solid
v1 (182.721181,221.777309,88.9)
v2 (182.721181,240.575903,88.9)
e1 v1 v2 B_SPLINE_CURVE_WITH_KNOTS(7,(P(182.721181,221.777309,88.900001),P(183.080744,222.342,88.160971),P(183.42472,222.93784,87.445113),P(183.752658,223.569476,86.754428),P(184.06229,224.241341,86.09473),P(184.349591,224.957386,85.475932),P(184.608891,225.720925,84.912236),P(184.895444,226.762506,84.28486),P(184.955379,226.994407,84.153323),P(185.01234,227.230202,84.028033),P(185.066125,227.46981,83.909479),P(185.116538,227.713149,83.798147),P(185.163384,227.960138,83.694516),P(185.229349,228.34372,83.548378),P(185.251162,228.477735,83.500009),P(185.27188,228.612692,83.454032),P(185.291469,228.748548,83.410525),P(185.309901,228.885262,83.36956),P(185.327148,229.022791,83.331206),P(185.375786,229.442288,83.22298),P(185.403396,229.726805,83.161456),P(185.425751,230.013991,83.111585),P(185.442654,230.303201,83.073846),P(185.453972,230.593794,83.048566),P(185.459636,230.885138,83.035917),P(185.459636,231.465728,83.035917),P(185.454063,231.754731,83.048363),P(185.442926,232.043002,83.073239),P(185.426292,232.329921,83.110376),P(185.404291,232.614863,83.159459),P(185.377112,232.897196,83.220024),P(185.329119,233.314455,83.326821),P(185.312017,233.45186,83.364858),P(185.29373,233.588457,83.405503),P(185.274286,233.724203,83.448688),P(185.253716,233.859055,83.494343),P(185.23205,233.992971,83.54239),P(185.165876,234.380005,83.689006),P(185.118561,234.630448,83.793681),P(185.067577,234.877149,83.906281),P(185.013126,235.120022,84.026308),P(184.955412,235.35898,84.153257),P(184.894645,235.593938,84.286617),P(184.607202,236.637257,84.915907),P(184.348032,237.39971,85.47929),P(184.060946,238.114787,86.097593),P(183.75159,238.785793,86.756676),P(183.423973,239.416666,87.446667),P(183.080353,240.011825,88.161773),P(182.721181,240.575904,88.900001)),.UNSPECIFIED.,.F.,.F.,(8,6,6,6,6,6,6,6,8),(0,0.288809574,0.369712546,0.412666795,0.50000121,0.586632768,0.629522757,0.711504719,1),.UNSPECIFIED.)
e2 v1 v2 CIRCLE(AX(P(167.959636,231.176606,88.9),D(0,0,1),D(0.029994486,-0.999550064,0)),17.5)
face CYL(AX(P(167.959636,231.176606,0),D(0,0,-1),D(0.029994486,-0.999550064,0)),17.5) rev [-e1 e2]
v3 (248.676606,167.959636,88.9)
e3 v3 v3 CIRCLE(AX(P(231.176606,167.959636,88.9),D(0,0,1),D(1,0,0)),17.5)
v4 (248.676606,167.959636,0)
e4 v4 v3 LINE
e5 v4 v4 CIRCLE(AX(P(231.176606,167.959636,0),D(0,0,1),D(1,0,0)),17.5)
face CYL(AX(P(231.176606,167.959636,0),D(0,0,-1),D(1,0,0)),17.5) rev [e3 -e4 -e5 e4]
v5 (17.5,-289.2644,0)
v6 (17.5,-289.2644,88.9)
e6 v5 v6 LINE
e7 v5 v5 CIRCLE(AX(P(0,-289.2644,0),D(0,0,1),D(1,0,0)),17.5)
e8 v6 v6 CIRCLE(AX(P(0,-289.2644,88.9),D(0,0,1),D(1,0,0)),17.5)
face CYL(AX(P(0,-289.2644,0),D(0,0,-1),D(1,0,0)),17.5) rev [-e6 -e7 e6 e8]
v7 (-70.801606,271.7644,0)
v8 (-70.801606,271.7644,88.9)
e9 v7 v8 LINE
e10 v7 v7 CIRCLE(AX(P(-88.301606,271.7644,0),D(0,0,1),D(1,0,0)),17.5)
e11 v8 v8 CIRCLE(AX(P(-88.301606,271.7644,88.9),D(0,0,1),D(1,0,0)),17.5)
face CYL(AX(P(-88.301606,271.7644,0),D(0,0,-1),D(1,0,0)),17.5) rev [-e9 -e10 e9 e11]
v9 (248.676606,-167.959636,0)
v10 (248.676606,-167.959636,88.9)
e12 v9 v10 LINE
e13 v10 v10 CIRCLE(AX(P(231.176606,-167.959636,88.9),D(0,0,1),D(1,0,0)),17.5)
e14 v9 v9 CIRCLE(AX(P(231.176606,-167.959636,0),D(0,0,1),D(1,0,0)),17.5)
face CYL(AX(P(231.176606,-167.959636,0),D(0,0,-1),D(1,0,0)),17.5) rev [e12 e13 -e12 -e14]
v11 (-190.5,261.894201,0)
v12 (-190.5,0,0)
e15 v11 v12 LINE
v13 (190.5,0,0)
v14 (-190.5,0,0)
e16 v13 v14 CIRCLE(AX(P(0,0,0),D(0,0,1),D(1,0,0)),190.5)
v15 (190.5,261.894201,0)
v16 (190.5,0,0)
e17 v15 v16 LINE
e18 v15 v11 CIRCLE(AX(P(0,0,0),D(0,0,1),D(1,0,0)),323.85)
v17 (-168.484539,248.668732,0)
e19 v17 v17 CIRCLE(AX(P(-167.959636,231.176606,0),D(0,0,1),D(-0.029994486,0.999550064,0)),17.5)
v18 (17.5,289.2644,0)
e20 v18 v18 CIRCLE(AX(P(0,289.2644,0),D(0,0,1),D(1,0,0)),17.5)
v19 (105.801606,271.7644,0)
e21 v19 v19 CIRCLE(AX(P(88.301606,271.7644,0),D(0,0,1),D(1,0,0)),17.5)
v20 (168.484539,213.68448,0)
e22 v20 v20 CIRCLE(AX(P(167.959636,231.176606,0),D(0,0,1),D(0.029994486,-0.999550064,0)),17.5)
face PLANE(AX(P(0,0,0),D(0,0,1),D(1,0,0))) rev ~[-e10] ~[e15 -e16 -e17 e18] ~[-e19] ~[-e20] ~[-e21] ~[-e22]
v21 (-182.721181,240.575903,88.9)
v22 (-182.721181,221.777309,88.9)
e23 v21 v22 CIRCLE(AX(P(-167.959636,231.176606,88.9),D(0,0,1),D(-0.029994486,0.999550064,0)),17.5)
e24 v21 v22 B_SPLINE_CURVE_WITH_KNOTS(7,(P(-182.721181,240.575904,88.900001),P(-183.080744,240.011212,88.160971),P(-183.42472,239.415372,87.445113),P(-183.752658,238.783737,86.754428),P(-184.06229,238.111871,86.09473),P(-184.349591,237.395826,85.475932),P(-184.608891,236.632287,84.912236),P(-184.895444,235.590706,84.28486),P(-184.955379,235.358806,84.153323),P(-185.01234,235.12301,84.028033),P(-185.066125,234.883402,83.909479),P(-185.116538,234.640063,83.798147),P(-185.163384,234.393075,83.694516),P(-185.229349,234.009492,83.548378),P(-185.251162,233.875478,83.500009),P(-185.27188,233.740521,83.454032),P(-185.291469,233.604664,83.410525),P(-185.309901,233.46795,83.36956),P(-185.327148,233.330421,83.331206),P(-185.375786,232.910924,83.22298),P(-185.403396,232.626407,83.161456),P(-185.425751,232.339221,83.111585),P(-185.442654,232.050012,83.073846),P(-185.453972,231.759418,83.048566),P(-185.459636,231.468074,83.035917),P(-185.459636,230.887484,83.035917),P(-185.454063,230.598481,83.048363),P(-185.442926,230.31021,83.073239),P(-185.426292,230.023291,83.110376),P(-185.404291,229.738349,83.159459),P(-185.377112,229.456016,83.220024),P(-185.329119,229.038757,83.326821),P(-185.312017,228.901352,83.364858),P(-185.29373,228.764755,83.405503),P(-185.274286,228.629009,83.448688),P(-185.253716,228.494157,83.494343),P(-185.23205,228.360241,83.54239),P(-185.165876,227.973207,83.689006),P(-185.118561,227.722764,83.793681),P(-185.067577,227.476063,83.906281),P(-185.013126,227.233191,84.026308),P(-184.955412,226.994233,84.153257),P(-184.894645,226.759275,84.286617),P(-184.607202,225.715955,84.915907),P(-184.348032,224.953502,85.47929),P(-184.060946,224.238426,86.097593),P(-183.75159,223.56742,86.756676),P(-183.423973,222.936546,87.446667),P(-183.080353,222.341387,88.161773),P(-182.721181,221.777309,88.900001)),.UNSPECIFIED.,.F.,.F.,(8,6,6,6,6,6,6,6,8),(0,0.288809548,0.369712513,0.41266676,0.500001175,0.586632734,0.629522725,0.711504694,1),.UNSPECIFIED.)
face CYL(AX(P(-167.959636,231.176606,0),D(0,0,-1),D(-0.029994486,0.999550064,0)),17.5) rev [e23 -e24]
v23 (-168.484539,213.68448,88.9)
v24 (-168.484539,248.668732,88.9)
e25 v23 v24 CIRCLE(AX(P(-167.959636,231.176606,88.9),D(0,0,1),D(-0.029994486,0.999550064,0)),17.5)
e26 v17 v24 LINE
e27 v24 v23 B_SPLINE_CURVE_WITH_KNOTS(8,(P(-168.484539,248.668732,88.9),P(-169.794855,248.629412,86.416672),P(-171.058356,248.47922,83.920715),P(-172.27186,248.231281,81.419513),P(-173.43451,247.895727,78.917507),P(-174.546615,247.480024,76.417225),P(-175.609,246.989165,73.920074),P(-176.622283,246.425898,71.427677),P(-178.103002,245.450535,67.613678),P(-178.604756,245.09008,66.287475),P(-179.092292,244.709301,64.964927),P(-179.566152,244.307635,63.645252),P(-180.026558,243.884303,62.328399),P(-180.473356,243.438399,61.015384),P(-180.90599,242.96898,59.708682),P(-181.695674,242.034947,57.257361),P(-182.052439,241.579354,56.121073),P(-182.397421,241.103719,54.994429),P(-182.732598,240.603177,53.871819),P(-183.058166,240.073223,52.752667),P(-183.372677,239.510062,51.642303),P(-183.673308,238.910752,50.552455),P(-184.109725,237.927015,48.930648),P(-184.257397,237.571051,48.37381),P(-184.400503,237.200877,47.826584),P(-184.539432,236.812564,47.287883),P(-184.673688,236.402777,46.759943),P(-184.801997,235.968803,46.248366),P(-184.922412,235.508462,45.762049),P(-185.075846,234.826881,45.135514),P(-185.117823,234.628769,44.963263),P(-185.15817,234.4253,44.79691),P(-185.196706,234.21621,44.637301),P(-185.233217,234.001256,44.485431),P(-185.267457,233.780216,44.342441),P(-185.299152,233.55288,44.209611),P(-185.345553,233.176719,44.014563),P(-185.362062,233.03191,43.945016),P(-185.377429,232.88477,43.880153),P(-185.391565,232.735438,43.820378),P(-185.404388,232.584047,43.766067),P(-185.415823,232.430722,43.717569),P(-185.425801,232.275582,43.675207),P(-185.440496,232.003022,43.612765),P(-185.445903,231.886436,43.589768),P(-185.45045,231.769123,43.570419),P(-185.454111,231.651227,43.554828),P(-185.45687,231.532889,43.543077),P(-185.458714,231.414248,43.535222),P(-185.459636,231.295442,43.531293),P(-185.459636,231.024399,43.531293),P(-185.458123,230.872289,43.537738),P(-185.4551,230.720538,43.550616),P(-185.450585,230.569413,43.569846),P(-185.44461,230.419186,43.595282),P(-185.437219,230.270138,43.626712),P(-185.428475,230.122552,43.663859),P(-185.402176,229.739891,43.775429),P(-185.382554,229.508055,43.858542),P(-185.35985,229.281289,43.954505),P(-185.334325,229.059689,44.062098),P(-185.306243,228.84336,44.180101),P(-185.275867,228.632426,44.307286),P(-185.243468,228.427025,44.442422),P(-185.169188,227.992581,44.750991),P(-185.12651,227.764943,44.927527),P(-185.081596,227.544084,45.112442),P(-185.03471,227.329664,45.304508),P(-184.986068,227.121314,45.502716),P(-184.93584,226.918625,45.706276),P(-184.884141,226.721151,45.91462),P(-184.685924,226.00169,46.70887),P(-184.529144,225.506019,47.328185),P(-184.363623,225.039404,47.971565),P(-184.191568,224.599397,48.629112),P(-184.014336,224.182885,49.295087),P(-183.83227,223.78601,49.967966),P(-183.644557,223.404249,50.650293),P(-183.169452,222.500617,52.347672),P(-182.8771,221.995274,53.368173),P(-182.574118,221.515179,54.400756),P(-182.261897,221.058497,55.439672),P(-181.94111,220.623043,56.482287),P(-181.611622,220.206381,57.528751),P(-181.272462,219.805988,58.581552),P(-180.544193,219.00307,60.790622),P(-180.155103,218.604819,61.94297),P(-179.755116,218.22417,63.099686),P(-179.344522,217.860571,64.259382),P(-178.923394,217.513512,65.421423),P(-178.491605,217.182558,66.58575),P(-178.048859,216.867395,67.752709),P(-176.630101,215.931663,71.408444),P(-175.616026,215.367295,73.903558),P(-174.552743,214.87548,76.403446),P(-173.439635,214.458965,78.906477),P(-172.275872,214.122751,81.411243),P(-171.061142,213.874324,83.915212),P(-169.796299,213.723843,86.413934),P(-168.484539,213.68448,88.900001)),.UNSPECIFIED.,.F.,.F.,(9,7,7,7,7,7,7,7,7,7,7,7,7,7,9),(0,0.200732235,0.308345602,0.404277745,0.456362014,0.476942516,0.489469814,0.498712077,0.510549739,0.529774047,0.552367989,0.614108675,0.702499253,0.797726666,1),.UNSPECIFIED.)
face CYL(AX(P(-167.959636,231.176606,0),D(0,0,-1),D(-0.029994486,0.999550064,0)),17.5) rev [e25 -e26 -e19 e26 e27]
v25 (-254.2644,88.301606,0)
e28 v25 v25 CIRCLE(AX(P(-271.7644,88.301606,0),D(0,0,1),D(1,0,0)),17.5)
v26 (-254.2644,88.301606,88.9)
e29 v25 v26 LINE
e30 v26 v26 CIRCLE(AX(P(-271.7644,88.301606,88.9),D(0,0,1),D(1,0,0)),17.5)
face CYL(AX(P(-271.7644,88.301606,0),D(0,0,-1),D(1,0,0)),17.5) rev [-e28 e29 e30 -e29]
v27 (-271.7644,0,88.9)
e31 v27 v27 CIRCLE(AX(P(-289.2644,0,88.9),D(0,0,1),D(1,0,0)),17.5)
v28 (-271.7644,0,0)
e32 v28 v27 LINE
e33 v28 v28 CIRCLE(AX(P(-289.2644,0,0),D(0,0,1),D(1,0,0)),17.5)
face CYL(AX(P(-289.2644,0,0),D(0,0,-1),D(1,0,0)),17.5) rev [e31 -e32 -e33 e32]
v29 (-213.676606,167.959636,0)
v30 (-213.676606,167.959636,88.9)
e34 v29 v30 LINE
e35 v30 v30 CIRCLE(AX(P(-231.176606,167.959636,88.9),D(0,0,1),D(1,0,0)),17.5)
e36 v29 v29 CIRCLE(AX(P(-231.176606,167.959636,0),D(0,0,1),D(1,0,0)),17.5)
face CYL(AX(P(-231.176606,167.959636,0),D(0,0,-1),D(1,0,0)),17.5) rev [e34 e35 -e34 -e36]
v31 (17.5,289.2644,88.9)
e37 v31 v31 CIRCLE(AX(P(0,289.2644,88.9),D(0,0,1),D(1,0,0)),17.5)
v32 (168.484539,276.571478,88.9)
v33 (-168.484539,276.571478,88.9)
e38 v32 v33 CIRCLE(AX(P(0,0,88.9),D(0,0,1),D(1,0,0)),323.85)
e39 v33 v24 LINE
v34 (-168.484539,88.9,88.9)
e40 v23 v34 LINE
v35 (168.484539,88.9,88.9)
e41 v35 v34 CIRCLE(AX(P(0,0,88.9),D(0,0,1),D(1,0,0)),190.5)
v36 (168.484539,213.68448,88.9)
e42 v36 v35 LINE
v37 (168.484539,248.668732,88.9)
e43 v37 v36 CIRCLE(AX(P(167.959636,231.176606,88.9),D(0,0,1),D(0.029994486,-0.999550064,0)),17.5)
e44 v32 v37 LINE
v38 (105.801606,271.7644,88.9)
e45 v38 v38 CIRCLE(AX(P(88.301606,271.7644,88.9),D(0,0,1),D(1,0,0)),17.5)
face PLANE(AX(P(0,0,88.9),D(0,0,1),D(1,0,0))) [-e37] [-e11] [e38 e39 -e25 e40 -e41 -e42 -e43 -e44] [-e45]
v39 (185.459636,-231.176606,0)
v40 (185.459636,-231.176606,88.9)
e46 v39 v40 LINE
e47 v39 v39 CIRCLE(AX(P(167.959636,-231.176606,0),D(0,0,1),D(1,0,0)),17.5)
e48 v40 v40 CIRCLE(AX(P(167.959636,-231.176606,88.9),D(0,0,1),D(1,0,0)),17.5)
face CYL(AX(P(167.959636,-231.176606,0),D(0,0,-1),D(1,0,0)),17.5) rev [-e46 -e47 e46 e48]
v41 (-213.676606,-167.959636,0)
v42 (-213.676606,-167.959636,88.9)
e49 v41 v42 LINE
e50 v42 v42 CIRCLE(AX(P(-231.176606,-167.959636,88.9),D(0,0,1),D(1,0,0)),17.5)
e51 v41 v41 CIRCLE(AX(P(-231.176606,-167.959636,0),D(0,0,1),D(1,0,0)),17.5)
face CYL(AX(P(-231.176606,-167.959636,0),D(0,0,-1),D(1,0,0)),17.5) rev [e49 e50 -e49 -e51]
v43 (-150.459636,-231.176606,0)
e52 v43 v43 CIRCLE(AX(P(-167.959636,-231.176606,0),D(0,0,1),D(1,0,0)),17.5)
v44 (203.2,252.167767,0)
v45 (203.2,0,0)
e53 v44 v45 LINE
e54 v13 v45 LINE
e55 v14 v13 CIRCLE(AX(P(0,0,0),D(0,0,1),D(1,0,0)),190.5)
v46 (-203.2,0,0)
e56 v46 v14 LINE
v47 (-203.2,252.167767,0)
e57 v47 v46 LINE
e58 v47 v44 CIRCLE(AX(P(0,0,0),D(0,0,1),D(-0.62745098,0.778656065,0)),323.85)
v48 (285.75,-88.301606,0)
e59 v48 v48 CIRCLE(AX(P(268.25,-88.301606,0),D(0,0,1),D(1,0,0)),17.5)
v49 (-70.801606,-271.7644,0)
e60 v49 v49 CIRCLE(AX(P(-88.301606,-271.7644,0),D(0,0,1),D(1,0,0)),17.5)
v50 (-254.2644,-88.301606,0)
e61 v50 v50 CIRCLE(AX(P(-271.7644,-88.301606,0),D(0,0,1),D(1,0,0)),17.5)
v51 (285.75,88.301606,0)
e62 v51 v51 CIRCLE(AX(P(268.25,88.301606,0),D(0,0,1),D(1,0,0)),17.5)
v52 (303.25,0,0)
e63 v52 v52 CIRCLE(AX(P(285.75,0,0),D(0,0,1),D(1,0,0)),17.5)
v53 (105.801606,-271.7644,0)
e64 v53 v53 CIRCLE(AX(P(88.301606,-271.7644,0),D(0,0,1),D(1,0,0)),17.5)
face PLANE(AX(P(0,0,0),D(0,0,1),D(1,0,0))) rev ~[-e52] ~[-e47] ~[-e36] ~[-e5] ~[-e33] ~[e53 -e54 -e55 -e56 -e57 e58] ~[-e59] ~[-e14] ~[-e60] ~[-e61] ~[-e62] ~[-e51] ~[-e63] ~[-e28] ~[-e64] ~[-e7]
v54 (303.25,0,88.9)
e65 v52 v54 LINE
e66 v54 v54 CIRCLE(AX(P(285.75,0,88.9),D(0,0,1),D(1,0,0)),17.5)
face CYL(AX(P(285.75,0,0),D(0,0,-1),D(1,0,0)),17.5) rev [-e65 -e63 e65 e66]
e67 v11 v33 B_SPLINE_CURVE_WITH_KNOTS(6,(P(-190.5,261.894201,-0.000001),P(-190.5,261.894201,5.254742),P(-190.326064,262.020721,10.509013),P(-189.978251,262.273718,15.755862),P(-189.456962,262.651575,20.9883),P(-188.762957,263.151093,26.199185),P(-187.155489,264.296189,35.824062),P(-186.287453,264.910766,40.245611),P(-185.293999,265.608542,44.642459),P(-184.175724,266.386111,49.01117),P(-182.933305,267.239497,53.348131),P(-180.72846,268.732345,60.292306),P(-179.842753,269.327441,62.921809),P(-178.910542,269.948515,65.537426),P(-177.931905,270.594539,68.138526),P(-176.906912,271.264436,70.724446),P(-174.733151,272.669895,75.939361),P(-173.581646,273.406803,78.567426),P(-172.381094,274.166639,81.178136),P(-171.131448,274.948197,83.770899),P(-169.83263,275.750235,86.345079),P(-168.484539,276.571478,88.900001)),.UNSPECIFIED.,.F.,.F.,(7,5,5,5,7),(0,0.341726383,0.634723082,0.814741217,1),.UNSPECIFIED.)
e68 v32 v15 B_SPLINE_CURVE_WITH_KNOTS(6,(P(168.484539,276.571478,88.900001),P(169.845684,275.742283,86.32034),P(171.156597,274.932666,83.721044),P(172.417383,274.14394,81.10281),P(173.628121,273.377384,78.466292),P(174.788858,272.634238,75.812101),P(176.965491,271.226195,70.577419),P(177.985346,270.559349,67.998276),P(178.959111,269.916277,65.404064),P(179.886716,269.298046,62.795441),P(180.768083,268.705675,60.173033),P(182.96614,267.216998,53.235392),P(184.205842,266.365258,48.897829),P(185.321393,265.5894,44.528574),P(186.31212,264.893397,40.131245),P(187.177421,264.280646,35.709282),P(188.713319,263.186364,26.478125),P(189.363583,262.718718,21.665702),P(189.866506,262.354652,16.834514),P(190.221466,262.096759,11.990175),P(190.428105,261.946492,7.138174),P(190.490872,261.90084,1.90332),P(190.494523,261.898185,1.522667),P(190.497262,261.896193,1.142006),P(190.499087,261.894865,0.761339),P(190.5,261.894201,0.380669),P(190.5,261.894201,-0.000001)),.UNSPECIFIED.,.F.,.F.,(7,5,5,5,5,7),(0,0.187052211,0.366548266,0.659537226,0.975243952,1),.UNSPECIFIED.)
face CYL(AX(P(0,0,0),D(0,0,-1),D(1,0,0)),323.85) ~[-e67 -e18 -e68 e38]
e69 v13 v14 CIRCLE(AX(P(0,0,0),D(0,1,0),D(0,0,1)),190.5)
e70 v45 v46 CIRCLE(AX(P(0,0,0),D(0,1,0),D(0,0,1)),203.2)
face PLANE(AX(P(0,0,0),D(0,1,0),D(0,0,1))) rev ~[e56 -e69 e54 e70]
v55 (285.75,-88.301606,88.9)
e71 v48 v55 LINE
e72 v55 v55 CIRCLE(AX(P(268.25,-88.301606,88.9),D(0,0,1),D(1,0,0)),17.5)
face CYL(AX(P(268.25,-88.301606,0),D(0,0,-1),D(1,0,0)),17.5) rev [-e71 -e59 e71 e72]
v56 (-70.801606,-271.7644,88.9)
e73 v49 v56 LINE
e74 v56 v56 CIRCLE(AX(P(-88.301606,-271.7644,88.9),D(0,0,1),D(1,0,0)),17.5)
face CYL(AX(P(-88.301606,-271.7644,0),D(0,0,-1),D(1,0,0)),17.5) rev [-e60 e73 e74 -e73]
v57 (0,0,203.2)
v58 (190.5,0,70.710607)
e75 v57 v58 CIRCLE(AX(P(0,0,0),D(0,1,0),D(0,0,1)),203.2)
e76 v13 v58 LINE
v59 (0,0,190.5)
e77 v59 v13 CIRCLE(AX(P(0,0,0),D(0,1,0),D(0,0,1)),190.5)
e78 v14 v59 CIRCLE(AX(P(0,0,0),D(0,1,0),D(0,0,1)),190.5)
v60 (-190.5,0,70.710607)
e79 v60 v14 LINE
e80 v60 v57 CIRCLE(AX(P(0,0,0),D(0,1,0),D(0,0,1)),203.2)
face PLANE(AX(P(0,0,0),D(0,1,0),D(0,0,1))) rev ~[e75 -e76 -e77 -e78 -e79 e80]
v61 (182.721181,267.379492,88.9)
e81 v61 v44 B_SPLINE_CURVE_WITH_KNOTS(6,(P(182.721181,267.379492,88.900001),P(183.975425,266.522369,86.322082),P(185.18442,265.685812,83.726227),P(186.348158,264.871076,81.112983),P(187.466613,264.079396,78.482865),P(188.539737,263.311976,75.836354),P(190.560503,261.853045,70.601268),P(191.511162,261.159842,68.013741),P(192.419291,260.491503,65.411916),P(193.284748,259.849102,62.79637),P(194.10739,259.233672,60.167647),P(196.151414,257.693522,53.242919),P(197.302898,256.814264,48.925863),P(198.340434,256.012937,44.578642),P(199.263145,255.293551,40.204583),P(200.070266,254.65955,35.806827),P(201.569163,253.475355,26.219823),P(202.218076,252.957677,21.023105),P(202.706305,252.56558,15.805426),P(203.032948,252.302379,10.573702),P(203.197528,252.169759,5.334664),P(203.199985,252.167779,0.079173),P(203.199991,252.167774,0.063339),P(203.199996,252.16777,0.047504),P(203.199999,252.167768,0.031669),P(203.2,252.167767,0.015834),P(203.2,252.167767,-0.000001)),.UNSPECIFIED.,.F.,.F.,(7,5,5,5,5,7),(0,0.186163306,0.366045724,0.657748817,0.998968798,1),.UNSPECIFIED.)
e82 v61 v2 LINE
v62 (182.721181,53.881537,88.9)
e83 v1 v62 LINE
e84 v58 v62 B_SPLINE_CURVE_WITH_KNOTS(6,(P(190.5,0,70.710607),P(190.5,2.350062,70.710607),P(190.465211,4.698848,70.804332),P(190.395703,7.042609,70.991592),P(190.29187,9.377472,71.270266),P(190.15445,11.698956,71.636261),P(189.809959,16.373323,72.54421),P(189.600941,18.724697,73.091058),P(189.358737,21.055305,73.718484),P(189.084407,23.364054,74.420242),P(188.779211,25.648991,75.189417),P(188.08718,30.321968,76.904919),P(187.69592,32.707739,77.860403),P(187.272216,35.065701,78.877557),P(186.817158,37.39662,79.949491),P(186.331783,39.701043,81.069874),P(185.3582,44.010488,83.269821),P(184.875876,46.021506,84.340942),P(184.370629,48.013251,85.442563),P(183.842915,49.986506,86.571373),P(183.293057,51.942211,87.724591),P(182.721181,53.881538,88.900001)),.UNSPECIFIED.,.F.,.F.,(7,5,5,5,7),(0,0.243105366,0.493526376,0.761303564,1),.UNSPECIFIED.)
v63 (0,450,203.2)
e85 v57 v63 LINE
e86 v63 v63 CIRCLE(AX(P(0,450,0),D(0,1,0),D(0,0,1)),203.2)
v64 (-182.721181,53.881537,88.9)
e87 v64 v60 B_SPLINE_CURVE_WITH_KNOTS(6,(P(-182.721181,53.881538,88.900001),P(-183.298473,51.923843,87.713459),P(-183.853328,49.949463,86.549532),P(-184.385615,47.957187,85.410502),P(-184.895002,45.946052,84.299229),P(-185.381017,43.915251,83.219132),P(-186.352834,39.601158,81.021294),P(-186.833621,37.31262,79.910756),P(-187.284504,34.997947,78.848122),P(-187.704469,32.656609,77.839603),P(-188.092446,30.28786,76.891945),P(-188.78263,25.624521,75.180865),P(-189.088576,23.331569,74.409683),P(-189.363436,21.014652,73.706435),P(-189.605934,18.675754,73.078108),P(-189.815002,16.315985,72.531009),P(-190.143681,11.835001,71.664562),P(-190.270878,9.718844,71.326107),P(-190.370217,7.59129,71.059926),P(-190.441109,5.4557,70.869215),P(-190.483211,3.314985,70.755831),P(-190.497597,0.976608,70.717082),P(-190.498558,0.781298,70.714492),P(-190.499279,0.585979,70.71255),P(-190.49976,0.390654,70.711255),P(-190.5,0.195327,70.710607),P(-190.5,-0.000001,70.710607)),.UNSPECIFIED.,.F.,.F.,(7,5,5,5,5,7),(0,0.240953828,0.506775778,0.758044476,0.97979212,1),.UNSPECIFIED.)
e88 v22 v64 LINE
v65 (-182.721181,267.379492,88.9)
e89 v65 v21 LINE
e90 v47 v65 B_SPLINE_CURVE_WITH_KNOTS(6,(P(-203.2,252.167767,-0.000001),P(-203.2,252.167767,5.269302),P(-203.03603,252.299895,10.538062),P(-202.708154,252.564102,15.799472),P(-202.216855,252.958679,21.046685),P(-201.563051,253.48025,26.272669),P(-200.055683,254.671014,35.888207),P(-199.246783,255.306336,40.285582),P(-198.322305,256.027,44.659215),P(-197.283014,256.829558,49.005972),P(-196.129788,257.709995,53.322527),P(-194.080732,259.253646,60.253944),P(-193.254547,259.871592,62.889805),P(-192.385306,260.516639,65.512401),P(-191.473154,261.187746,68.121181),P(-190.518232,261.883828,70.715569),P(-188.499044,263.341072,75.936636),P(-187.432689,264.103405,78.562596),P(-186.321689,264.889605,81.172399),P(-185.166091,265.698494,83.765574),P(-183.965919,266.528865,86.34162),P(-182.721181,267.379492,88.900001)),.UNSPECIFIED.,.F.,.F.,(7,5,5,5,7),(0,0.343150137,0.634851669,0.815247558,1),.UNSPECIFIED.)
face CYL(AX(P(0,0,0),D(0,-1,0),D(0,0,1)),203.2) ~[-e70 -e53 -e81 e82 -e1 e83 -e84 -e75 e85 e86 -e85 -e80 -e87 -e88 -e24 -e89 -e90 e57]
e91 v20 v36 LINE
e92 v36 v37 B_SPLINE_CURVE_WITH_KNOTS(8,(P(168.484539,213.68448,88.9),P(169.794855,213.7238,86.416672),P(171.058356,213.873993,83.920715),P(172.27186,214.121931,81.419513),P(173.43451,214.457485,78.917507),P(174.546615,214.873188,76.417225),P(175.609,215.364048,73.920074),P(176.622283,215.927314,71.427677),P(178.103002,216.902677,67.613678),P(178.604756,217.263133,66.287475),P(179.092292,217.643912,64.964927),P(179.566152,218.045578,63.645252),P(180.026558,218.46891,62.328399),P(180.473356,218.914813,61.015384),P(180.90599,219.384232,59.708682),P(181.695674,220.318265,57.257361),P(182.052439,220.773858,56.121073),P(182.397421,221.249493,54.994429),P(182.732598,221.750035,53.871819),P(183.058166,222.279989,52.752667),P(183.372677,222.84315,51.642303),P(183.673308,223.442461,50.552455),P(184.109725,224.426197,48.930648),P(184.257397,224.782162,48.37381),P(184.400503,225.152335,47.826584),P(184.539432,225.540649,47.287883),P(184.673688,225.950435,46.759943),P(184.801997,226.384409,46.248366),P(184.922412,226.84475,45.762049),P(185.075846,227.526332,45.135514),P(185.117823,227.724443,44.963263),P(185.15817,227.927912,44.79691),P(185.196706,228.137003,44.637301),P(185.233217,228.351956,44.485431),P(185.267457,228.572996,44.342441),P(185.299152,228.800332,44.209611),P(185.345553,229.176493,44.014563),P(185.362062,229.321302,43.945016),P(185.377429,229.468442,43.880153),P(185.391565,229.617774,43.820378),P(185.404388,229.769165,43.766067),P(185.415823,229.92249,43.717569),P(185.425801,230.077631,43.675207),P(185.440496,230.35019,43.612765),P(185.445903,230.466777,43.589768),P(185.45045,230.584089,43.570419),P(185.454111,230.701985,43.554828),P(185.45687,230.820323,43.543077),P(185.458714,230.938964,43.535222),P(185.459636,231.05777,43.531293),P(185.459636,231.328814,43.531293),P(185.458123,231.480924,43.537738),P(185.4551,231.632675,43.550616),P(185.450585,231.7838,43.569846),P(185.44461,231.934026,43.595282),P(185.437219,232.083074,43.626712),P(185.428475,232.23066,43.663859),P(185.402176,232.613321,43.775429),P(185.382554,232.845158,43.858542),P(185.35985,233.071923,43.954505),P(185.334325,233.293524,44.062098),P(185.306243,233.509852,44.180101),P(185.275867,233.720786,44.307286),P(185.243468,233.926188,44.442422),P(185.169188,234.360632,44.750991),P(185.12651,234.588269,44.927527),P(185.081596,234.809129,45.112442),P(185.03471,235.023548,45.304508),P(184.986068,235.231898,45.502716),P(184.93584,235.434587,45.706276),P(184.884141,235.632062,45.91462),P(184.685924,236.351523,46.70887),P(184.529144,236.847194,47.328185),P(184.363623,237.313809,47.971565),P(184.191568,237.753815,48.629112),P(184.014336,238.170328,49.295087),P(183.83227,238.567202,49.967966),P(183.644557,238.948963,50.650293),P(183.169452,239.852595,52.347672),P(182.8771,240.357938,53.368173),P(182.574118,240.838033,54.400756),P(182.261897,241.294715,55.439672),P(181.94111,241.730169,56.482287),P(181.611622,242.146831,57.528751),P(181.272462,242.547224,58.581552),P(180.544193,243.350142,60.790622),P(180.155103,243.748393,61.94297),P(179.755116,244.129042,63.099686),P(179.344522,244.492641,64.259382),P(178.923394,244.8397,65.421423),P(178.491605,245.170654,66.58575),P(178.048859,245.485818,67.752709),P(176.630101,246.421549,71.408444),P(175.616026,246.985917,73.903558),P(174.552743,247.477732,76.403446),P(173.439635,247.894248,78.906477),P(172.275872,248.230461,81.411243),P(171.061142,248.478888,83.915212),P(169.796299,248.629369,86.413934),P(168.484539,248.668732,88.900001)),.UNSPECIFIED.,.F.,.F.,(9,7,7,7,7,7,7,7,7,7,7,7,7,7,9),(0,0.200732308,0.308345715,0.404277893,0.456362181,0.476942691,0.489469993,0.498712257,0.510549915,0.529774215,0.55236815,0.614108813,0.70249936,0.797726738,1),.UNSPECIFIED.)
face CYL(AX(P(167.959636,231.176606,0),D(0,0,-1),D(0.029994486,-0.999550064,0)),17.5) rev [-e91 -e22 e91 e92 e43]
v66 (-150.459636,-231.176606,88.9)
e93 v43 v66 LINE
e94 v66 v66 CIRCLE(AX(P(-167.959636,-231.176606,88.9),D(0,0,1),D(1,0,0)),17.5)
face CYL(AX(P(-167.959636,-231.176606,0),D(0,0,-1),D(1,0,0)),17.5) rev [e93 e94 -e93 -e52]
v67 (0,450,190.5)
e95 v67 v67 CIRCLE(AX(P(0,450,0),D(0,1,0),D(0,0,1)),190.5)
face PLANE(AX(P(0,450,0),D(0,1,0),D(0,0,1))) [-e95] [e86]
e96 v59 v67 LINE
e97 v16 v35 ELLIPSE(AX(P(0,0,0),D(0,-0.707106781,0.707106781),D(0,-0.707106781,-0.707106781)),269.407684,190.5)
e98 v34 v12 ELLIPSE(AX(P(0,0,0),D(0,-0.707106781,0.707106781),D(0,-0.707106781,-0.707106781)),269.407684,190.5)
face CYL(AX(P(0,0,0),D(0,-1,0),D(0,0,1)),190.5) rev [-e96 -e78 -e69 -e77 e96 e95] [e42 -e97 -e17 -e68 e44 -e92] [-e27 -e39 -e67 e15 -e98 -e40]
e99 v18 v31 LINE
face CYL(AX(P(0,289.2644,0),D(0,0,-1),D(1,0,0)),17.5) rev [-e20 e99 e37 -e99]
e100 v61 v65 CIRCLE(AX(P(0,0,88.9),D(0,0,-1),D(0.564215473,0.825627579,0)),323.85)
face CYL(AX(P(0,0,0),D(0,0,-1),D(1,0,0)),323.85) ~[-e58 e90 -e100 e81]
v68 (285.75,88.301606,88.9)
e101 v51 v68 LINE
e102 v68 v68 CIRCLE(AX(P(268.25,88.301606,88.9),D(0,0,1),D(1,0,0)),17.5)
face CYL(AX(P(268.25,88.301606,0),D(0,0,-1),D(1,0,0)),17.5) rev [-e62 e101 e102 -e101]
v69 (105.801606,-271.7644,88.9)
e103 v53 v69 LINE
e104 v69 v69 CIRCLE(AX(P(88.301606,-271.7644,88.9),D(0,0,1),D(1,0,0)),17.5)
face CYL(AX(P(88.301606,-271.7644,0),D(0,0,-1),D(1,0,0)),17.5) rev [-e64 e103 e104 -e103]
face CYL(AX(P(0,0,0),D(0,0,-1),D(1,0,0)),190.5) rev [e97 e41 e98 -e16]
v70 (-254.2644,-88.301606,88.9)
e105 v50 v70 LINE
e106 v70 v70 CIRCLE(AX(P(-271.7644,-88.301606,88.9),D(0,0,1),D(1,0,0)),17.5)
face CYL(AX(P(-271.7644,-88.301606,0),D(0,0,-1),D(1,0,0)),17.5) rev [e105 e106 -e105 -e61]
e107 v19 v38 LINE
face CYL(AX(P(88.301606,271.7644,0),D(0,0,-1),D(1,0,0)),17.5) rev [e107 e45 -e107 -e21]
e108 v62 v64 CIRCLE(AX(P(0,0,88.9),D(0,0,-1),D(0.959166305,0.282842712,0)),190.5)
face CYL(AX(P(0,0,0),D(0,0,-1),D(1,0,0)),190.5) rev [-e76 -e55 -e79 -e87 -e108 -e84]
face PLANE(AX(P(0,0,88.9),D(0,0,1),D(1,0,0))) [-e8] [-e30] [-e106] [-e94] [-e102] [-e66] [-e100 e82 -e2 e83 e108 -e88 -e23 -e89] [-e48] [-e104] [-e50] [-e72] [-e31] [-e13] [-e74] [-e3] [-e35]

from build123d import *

# Parameters (mm, degrees)
SKETCH1_R           = 203.2
SKETCH1_R_2         = 190.5
BOSS_EXTRUDE1_DEPTH = 450
SKETCH2_R           = 323.85
SKETCH2_R_2         = 190.5
SKETCH2_R_3         = 17.5
BOSS_EXTRUDE2_DEPTH = 88.9


with BuildPart() as part:
    # Sketch1 → Boss-Extrude1 (new body)
    with BuildSketch(Plane(origin=(0, 0, 0), x_dir=(1, 0, 0), z_dir=(0, 1, 0))):
        with Locations(Location((0, 0, 0), (0, 0, 270))):
            Circle(SKETCH1_R)
        with Locations(Location((0, 0, 0), (0, 0, 270))):
            Circle(SKETCH1_R_2, mode=Mode.SUBTRACT)
    extrude(amount=BOSS_EXTRUDE1_DEPTH)

    # Sketch2 → Boss-Extrude2 (add)
    with BuildSketch(Plane.XY):
        Circle(SKETCH2_R)
        Circle(SKETCH2_R_2, mode=Mode.SUBTRACT)
        with Locations((285.75, 0)):
            Circle(SKETCH2_R_3, mode=Mode.SUBTRACT)
        with Locations((268.25, 88.301606143)):
            Circle(SKETCH2_R_3, mode=Mode.SUBTRACT)
        with Locations((231.176606143, 167.959635843)):
            Circle(SKETCH2_R_3, mode=Mode.SUBTRACT)
        with Locations(Location((167.959635843, 231.176606143, 0), (0, 0, 271.718815258))):
            Circle(SKETCH2_R_3, mode=Mode.SUBTRACT)
        with Locations((88.301606143, 271.764399531)):
            Circle(SKETCH2_R_3, mode=Mode.SUBTRACT)
        with Locations((0, 289.264399531)):
            Circle(SKETCH2_R_3, mode=Mode.SUBTRACT)
        with Locations((-88.301606143, 271.764399531)):
            Circle(SKETCH2_R_3, mode=Mode.SUBTRACT)
        with Locations(Location((-167.959635843, 231.176606143, 0), (0, 0, 91.718815258))):
            Circle(SKETCH2_R_3, mode=Mode.SUBTRACT)
        with Locations((-231.176606143, 167.959635843)):
            Circle(SKETCH2_R_3, mode=Mode.SUBTRACT)
        with Locations((-271.764399531, 88.301606143)):
            Circle(SKETCH2_R_3, mode=Mode.SUBTRACT)
        with Locations((-289.264399531, 0)):
            Circle(SKETCH2_R_3, mode=Mode.SUBTRACT)
        with Locations((-271.764399531, -88.301606143)):
            Circle(SKETCH2_R_3, mode=Mode.SUBTRACT)
        with Locations((-231.176606143, -167.959635843)):
            Circle(SKETCH2_R_3, mode=Mode.SUBTRACT)
        with Locations((-167.959635843, -231.176606143)):
            Circle(SKETCH2_R_3, mode=Mode.SUBTRACT)
        with Locations((-88.301606143, -271.764399531)):
            Circle(SKETCH2_R_3, mode=Mode.SUBTRACT)
        with Locations((0, -289.264399531)):
            Circle(SKETCH2_R_3, mode=Mode.SUBTRACT)
        with Locations((88.301606143, -271.764399531)):
            Circle(SKETCH2_R_3, mode=Mode.SUBTRACT)
        with Locations((167.959635843, -231.176606143)):
            Circle(SKETCH2_R_3, mode=Mode.SUBTRACT)
        with Locations((231.176606143, -167.959635843)):
            Circle(SKETCH2_R_3, mode=Mode.SUBTRACT)
        with Locations((268.25, -88.301606143)):
            Circle(SKETCH2_R_3, mode=Mode.SUBTRACT)
    extrude(amount=BOSS_EXTRUDE2_DEPTH)


solid = part.part
